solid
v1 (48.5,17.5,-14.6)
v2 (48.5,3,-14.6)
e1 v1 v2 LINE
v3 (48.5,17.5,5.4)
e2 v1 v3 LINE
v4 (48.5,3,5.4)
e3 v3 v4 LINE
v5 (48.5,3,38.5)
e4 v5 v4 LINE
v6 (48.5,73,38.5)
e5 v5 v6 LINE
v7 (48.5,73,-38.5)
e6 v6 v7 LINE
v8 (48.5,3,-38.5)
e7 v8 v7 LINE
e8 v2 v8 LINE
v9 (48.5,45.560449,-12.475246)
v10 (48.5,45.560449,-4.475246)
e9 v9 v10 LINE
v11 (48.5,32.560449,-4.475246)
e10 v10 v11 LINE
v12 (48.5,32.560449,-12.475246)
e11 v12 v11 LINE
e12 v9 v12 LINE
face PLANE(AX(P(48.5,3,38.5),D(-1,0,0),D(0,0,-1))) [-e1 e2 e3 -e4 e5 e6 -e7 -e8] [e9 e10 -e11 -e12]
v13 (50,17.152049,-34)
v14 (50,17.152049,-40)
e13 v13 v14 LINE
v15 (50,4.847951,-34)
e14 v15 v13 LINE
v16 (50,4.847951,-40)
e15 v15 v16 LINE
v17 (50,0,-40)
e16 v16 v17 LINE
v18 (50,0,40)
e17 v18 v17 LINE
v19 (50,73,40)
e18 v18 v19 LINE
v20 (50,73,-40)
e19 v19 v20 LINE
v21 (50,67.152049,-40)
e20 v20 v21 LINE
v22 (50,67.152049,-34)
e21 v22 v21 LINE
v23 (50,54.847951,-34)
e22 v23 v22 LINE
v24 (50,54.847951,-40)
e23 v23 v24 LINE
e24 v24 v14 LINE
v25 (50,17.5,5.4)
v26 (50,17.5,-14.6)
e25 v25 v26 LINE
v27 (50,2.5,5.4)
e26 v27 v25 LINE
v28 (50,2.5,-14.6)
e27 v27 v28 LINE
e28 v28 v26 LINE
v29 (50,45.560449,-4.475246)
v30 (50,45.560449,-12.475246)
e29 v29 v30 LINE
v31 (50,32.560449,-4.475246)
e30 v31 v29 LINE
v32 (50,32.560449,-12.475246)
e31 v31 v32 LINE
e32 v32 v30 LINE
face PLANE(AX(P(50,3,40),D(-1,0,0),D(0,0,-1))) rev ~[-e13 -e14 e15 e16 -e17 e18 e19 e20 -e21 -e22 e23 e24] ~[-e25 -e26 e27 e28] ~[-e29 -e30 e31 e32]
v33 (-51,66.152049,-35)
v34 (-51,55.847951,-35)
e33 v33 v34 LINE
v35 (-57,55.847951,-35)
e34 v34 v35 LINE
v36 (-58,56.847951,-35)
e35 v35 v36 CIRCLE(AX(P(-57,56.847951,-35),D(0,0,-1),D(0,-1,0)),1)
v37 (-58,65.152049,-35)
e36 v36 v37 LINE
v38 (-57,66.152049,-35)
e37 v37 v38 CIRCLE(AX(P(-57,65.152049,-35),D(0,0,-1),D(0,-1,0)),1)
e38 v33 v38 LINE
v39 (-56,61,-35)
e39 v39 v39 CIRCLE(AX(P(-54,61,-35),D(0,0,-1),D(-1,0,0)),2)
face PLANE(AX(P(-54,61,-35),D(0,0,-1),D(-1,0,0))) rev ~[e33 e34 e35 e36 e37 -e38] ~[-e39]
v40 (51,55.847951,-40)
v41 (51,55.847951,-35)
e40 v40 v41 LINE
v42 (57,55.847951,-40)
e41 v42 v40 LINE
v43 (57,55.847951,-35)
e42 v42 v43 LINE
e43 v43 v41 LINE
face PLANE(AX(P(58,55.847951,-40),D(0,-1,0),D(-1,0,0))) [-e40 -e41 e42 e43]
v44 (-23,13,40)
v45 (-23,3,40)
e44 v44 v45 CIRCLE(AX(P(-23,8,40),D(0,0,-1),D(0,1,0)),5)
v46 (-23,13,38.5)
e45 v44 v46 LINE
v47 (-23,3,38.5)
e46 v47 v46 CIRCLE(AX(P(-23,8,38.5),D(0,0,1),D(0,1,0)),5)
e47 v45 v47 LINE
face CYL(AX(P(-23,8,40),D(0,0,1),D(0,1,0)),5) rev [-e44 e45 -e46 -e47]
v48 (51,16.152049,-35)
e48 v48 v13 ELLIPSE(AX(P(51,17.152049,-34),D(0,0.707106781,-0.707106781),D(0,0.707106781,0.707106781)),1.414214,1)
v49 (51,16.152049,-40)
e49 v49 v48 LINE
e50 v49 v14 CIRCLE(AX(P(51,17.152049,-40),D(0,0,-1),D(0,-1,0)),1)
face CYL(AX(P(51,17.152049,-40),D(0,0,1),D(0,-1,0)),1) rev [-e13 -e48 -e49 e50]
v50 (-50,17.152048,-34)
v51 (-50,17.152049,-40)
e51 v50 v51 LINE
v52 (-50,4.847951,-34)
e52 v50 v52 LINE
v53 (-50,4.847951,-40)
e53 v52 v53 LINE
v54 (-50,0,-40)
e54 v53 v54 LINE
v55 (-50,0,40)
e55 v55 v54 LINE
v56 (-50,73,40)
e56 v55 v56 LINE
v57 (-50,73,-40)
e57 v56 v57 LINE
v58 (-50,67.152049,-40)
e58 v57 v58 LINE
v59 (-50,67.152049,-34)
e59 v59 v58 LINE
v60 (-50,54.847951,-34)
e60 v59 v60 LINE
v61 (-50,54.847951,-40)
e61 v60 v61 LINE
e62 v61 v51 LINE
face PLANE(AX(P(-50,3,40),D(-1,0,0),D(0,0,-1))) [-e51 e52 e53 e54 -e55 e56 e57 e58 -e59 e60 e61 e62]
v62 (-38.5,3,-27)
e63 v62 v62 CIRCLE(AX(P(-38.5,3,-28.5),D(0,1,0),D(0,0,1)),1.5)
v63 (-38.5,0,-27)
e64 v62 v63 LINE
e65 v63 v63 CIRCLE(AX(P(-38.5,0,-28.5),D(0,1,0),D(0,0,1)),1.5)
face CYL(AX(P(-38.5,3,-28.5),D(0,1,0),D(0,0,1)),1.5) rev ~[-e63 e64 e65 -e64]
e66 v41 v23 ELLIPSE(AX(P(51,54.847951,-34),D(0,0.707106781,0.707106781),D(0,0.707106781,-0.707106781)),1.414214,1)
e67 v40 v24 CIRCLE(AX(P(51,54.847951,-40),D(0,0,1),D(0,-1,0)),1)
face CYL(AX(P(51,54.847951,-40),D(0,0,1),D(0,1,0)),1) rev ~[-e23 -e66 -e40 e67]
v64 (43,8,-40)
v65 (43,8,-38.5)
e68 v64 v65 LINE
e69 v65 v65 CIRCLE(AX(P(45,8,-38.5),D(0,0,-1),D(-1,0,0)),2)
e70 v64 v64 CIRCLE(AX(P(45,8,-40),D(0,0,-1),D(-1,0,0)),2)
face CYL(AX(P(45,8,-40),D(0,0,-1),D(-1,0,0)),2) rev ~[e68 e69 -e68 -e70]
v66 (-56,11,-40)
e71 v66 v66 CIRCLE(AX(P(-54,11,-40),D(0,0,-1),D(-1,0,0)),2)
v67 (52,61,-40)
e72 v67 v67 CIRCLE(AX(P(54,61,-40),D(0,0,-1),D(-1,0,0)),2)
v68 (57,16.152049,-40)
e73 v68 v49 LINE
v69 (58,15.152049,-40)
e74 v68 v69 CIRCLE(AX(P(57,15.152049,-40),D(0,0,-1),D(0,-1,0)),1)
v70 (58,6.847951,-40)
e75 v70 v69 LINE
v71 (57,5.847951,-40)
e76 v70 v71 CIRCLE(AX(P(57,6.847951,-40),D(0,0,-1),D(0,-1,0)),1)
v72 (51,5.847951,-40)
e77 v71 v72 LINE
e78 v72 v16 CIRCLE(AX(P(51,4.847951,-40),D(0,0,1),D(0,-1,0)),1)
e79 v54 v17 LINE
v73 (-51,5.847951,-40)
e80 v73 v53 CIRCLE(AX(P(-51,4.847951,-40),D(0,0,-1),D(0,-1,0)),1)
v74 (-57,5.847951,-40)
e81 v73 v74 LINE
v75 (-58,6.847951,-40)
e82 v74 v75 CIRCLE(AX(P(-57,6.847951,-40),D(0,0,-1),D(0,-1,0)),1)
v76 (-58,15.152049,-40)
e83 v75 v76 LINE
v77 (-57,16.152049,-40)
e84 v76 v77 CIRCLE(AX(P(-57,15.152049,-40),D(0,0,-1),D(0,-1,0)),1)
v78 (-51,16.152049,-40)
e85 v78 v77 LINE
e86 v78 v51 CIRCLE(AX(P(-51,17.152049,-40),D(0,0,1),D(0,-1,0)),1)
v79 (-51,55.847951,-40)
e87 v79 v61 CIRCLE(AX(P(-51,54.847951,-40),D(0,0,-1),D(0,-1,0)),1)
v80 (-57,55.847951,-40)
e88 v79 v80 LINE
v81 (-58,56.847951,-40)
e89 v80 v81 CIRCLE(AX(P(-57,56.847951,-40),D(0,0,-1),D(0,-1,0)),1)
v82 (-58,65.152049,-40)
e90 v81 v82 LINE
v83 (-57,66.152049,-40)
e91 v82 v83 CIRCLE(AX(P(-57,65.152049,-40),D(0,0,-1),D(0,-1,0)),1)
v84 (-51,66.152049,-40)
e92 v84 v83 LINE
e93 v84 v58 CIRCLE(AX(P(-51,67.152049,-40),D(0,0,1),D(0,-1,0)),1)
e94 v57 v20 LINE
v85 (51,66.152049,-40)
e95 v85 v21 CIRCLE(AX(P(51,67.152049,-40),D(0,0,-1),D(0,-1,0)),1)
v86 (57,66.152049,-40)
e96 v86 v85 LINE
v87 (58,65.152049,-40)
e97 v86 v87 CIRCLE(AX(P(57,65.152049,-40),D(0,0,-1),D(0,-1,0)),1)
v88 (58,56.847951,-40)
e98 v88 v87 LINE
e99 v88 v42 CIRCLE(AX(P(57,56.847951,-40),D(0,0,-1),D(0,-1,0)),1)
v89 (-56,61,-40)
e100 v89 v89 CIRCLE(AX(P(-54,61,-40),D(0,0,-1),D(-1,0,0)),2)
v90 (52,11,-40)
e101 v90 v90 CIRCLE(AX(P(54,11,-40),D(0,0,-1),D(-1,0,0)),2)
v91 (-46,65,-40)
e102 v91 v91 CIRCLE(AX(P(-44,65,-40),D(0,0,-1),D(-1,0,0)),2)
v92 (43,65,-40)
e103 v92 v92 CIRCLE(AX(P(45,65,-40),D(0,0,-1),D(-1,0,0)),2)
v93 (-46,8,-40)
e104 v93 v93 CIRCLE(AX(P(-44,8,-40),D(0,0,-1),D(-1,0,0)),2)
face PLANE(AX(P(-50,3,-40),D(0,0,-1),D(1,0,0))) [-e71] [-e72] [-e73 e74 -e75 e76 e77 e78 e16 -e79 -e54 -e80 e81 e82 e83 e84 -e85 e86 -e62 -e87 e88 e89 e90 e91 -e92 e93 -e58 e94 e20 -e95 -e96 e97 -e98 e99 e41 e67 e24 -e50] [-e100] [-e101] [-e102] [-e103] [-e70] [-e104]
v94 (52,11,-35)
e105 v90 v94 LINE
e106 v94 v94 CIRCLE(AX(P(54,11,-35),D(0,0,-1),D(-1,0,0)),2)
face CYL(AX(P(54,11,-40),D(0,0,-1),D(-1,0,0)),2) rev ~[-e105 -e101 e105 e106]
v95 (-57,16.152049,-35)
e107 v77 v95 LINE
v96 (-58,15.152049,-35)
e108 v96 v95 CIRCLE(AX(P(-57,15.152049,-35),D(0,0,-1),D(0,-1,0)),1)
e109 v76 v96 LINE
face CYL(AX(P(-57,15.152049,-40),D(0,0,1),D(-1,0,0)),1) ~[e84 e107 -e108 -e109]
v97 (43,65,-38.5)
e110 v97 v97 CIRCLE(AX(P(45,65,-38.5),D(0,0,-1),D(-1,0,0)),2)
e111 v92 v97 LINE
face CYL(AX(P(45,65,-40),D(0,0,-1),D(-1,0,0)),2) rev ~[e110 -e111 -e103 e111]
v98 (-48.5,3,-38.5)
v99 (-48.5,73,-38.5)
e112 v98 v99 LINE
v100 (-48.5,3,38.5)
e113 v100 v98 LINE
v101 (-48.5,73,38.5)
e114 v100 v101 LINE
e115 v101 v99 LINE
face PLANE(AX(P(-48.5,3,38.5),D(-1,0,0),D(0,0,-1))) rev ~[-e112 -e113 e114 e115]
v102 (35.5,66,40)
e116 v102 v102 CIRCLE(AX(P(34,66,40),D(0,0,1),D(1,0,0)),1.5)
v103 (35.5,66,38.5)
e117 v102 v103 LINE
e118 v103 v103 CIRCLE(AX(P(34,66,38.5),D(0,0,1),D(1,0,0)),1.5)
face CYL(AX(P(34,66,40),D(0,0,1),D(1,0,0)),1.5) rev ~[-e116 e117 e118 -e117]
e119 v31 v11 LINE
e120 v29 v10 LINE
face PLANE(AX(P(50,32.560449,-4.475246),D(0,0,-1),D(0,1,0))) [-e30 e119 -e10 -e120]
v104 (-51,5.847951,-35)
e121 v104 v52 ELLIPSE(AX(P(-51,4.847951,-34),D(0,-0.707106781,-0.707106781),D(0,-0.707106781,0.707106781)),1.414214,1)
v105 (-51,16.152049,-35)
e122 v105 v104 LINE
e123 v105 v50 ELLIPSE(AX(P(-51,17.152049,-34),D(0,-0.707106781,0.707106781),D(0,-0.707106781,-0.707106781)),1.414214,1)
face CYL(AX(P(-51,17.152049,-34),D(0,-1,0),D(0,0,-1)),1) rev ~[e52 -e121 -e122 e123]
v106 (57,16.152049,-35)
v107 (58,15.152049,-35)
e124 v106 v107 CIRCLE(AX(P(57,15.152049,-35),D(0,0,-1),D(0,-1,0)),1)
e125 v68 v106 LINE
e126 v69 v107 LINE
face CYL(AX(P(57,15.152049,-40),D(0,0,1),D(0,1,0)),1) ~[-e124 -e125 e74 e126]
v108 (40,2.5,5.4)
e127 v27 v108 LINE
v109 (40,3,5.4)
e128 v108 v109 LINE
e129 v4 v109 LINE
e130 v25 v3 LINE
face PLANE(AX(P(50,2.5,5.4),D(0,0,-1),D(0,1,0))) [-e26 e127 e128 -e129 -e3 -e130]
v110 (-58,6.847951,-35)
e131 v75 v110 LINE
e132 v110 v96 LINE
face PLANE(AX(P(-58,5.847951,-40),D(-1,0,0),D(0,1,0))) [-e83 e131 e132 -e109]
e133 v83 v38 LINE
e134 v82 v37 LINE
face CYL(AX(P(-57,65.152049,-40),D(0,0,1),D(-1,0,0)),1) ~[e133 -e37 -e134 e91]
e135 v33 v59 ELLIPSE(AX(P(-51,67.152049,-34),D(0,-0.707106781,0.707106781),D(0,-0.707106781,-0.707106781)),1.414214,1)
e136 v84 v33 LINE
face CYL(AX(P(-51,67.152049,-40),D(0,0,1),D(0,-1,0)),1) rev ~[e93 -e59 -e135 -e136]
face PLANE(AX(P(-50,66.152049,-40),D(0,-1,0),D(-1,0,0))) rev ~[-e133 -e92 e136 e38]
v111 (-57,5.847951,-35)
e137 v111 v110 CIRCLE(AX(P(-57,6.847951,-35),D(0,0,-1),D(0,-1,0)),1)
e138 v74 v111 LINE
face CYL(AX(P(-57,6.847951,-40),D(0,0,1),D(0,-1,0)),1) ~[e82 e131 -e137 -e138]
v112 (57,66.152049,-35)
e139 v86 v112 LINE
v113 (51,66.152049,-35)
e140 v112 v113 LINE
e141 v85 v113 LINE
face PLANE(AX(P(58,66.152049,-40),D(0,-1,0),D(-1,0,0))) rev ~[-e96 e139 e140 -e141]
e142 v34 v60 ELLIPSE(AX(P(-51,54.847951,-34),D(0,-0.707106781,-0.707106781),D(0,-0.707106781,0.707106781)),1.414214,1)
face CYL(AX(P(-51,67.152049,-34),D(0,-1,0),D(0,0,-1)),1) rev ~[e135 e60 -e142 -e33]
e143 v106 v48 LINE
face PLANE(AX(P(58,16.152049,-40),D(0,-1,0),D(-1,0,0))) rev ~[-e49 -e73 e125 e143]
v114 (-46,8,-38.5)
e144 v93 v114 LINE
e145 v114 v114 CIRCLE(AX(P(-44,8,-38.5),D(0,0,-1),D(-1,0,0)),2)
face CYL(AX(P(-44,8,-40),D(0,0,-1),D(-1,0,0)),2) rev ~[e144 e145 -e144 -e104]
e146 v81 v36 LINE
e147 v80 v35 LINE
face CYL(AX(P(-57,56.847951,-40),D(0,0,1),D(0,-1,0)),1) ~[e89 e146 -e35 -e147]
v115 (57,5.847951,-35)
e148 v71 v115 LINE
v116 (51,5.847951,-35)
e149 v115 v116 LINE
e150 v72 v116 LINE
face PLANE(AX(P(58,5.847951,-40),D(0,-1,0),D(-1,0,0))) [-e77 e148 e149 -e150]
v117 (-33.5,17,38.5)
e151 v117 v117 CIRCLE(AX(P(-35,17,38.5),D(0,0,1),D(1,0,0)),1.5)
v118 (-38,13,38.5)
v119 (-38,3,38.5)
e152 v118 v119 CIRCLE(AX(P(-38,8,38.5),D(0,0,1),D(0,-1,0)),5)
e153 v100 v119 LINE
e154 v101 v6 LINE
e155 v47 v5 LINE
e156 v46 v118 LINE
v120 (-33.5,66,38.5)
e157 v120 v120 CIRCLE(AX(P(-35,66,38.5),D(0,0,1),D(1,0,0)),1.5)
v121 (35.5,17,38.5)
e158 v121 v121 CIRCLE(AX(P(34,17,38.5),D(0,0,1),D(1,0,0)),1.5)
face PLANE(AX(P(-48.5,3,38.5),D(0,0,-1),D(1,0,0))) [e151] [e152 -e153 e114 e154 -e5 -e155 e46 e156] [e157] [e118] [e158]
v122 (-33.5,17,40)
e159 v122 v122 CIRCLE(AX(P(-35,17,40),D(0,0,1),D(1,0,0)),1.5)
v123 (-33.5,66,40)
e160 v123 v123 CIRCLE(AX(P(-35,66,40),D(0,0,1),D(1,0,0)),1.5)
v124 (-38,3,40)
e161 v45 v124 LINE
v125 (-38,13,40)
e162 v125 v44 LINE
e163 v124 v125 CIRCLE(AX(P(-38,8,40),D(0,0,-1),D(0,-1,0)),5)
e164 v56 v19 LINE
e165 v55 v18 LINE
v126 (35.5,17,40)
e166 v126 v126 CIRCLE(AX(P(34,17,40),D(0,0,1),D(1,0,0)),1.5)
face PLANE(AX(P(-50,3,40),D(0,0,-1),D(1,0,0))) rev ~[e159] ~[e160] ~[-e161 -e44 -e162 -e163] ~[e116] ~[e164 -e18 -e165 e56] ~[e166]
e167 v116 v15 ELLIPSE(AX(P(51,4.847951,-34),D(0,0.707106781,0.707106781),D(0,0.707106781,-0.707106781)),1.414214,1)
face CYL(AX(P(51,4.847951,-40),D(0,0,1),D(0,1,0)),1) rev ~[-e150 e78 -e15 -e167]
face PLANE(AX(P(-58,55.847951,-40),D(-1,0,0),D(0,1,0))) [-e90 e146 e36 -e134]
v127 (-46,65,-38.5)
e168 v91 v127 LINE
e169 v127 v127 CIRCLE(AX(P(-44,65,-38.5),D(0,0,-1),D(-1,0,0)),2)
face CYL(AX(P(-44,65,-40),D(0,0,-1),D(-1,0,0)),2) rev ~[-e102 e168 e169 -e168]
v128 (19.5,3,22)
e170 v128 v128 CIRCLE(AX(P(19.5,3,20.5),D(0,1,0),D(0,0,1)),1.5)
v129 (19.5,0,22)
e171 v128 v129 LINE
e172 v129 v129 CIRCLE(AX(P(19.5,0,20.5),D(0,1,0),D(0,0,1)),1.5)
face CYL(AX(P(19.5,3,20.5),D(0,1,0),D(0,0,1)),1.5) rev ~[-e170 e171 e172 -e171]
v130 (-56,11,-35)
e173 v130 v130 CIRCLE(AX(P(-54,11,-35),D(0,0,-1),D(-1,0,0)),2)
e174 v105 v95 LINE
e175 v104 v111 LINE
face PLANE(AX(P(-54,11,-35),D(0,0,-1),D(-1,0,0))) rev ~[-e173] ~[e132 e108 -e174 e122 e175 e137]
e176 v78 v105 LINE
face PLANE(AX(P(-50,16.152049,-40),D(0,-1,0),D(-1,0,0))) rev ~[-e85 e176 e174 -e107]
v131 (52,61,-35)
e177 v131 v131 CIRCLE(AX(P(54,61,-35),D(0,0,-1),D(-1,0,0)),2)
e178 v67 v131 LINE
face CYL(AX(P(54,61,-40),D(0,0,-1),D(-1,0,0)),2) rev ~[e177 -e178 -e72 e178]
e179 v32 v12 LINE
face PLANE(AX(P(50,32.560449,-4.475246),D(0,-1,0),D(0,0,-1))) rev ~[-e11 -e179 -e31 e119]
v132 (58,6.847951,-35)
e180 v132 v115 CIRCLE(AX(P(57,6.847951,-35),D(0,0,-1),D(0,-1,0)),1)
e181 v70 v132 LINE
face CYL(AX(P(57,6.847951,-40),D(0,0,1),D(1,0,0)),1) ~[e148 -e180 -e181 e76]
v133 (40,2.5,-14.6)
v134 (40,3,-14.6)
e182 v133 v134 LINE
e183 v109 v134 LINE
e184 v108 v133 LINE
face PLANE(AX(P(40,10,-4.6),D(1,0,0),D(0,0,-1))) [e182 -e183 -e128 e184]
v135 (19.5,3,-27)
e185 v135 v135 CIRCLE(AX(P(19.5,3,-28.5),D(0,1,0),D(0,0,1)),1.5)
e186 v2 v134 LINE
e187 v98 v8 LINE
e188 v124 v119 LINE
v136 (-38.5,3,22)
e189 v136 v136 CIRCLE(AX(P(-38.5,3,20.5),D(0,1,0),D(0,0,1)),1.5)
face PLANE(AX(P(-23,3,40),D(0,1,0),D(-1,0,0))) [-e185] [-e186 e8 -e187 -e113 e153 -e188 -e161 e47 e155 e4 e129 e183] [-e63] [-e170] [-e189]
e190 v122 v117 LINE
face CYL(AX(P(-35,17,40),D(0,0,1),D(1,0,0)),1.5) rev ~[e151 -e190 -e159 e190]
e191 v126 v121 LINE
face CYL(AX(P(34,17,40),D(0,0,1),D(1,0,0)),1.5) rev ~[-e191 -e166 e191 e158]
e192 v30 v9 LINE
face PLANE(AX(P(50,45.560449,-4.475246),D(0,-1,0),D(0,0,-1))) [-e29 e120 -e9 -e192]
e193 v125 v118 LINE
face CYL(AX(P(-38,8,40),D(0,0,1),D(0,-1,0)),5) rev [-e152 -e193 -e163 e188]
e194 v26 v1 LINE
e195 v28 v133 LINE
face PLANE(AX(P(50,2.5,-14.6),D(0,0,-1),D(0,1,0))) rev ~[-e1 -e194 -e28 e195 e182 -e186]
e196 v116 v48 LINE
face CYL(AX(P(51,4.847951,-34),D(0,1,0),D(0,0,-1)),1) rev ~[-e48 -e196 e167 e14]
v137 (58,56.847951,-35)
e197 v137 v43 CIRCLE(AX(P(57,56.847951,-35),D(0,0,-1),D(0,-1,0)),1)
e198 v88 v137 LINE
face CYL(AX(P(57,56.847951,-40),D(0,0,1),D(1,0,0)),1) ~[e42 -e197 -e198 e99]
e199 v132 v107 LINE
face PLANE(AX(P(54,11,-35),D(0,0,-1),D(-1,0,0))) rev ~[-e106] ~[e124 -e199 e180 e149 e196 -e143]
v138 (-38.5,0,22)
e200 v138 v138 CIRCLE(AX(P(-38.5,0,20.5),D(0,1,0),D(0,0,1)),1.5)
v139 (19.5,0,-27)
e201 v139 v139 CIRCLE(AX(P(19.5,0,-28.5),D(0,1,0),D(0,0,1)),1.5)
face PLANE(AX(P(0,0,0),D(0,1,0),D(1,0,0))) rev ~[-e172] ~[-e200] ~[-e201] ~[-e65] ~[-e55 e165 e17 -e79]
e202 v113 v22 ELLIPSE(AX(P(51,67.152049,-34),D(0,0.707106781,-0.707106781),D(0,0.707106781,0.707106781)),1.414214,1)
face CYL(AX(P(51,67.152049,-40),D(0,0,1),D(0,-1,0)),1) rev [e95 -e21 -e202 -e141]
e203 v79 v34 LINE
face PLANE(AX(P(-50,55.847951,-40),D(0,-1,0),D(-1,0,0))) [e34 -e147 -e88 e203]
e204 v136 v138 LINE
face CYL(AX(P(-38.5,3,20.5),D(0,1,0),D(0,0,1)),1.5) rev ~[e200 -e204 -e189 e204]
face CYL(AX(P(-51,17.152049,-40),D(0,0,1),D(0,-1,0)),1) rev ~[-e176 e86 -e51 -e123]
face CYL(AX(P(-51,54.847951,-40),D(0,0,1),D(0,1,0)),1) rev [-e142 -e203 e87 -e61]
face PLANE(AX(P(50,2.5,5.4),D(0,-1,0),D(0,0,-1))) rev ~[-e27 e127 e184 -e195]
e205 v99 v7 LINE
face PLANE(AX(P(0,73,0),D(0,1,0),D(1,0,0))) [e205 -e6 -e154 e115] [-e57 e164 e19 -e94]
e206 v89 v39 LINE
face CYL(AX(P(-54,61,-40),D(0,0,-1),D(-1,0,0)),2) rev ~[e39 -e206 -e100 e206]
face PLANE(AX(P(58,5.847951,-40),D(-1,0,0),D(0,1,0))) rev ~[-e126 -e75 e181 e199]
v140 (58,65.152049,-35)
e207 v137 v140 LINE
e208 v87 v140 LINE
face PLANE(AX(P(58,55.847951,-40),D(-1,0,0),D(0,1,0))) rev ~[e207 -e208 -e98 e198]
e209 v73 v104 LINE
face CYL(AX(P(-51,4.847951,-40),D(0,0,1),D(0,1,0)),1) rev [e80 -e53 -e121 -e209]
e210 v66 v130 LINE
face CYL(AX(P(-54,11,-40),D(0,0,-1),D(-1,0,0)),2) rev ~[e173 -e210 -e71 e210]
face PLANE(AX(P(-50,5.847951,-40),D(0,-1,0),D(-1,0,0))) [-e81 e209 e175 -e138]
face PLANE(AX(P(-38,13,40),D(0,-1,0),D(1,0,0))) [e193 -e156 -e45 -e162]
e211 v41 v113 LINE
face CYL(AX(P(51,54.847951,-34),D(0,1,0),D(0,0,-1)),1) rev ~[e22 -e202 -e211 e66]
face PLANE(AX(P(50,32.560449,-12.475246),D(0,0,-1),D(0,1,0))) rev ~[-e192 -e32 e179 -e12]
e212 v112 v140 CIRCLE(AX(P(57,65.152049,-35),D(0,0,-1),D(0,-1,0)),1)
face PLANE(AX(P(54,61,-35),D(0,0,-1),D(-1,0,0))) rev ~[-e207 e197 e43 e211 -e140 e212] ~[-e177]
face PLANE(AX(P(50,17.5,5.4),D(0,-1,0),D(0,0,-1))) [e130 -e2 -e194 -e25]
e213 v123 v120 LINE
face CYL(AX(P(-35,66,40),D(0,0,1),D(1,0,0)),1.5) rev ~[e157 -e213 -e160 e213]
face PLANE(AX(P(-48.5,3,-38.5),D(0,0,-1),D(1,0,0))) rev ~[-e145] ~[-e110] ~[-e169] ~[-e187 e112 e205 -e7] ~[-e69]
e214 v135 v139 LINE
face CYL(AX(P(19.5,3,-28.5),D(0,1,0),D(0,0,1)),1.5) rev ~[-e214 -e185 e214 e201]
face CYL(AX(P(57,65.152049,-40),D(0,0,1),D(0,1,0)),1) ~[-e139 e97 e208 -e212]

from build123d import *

# Parameters (mm, degrees)
SKETCH1_W               = 100
SKETCH1_H               = 80
BOSS_EXTRUDE1_DEPTH     = 3
SKETCH2_W               = 100
SKETCH2_H               = 80
SKETCH2_W_2             = 97
SKETCH2_H_2             = 77
BOSS_EXTRUDE2_DEPTH     = 70
CUT_EXTRUDE1_DEPTH      = 3
SKETCH5_W               = 8
SKETCH5_H               = 10.304098564
SKETCH5_R               = 2
BOSS_EXTRUDE4_DEPTH     = 5
FILLET8_R               = 1
FILLET9_R               = 1
FILLET10_R              = 1
FILLET11_R              = 1
FILLET12_R              = 1
FILLET13_R              = 1
FILLET14_R              = 1
FILLET15_R              = 1
FILLET16_R              = 1
FILLET17_R              = 1
SKETCH3_R               = 1.5
CUT_EXTRUDE2_DEPTH      = 10
SKETCH7_R               = 1.5
CUT_EXTRUDE4_DEPTH      = 10
SKETCH8_R               = 2
CUT_EXTRUDE5_DEPTH      = 10
SKETCH9_W               = 20
SKETCH9_H               = 15
SKETCH9_W_2             = 8
SKETCH9_H_2             = 13
CUT_EXTRUDE7_DEPTH      = 10
LPATTERN1_COUNT         = 2
LPATTERN1_PITCH         = 50
FILLET8_OF_LPATTERN1_R  = 1
FILLET9_OF_LPATTERN1_R  = 1
FILLET10_OF_LPATTERN1_R = 1
FILLET11_OF_LPATTERN1_R = 1
FILLET12_OF_LPATTERN1_R = 1
FILLET13_OF_LPATTERN1_R = 1
FILLET14_OF_LPATTERN1_R = 1
FILLET15_OF_LPATTERN1_R = 1
FILLET16_OF_LPATTERN1_R = 1
FILLET17_OF_LPATTERN1_R = 1


with BuildPart() as part:
    # Sketch1 → Boss-Extrude1 (new body)
    with BuildSketch(Plane(origin=(0, 0, 0), x_dir=(1, 0, 0), z_dir=(0, 1, 0))):
        Rectangle(SKETCH1_W, SKETCH1_H)
    extrude(amount=BOSS_EXTRUDE1_DEPTH)

    # Sketch2 → Boss-Extrude2 (add)
    with BuildSketch(Plane(origin=(0, 3, 0), x_dir=(1, 0, 0), z_dir=(0, 1, 0))):
        Rectangle(SKETCH2_W, SKETCH2_H)
        Rectangle(SKETCH2_W_2, SKETCH2_H_2, mode=Mode.SUBTRACT)
    extrude(amount=BOSS_EXTRUDE2_DEPTH)

    # Sketch4 → Cut-Extrude1 (cut)
    with BuildSketch(Plane.XY.offset(40)):
        with BuildLine():
            Line((-38, 13), (-23, 13))
            ThreePointArc((-23, 13), (-18, 8), (-23, 3))
            Line((-23, 3), (-38, 3))
            ThreePointArc((-38, 3), (-43, 8), (-38, 13))
        make_face()
    extrude(amount=-CUT_EXTRUDE1_DEPTH, mode=Mode.SUBTRACT)

    # Sketch5 → Boss-Extrude4 (add)
    # profile 1 of 2: a face of its own
    with BuildSketch(Plane(origin=(0, 0, -40), x_dir=(-1, 0, 0), z_dir=(0, 0, -1))):
        with Locations((54, 11)):
            Rectangle(SKETCH5_W, SKETCH5_H)
        with Locations((54, 11)):
            Circle(SKETCH5_R, mode=Mode.SUBTRACT)
    # profile 2 of 2: a face of its own
    with BuildSketch(Plane(origin=(0, 0, -40), x_dir=(-1, 0, 0), z_dir=(0, 0, -1))):
        with Locations((-54, 11)):
            Rectangle(SKETCH5_W, SKETCH5_H)
        with Locations((-54, 11)):
            Circle(SKETCH5_R, mode=Mode.SUBTRACT)
    boss_extrude4 = extrude(amount=-BOSS_EXTRUDE4_DEPTH)

    # Fillet8
    fillet8_edges = [part.edges().sort_by_distance(p)[0] for p in [
        (58, 16.152049282, -37.5),
    ]]
    fillet(fillet8_edges, radius=FILLET8_R)

    # Fillet9
    fillet9_edges = [part.edges().sort_by_distance(p)[0] for p in [
        (58, 5.847950718, -37.5),
    ]]
    fillet(fillet9_edges, radius=FILLET9_R)

    # Fillet10
    fillet10_edges = [part.edges().sort_by_distance(p)[0] for p in [
        (50, 5.847950718, -37.5),
    ]]
    fillet(fillet10_edges, radius=FILLET10_R)

    # Fillet11
    fillet11_edges = [part.edges().sort_by_distance(p)[0] for p in [
        (50, 16.152049282, -37.5),
    ]]
    fillet(fillet11_edges, radius=FILLET11_R)

    # Fillet12
    fillet12_edges = [part.edges().sort_by_distance(p)[0] for p in [
        (50, 11, -35),
    ]]
    fillet(fillet12_edges, radius=FILLET12_R)

    # Fillet13
    fillet13_edges = [part.edges().sort_by_distance(p)[0] for p in [
        (-58, 5.847950718, -37.5),
    ]]
    fillet(fillet13_edges, radius=FILLET13_R)

    # Fillet14
    fillet14_edges = [part.edges().sort_by_distance(p)[0] for p in [
        (-58, 16.152049282, -37.5),
    ]]
    fillet(fillet14_edges, radius=FILLET14_R)

    # Fillet15
    fillet15_edges = [part.edges().sort_by_distance(p)[0] for p in [
        (-50, 5.847950718, -37.5),
    ]]
    fillet(fillet15_edges, radius=FILLET15_R)

    # Fillet16
    fillet16_edges = [part.edges().sort_by_distance(p)[0] for p in [
        (-50, 16.152049282, -37.5),
    ]]
    fillet(fillet16_edges, radius=FILLET16_R)

    # Fillet17
    fillet17_edges = [part.edges().sort_by_distance(p)[0] for p in [
        (-50, 11, -35),
    ]]
    fillet(fillet17_edges, radius=FILLET17_R)

    # Sketch3 → Cut-Extrude2 (cut)
    with BuildSketch(Plane(origin=(0, 3, 0), x_dir=(1, 0, 0), z_dir=(0, 1, 0))):
        with Locations(Location((-38.5, 28.5, 0), (0, 0, 270))):
            Circle(SKETCH3_R)
        with Locations(Location((-38.5, -20.5, 0), (0, 0, 270))):
            Circle(SKETCH3_R)
        with Locations(Location((19.5, 28.5, 0), (0, 0, 270))):
            Circle(SKETCH3_R)
        with Locations(Location((19.5, -20.5, 0), (0, 0, 270))):
            Circle(SKETCH3_R)
    extrude(amount=-CUT_EXTRUDE2_DEPTH, mode=Mode.SUBTRACT)

    # Sketch7 → Cut-Extrude4 (cut)
    with BuildSketch(Plane.XY.offset(40)):
        with Locations((-35, 66)):
            Circle(SKETCH7_R)
        with Locations((34, 66)):
            Circle(SKETCH7_R)
        with Locations((-35, 17)):
            Circle(SKETCH7_R)
        with Locations((34, 17)):
            Circle(SKETCH7_R)
    extrude(amount=-CUT_EXTRUDE4_DEPTH, mode=Mode.SUBTRACT)

    # Sketch8 → Cut-Extrude5 (cut)
    with BuildSketch(Plane(origin=(0, 0, -40), x_dir=(-1, 0, 0), z_dir=(0, 0, -1))):
        with Locations((-45, 65)):
            Circle(SKETCH8_R)
        with Locations((44, 65)):
            Circle(SKETCH8_R)
        with Locations((-45, 8)):
            Circle(SKETCH8_R)
        with Locations((44, 8)):
            Circle(SKETCH8_R)
    extrude(amount=-CUT_EXTRUDE5_DEPTH, mode=Mode.SUBTRACT)

    # Sketch9 → Cut-Extrude7 (cut)
    with BuildSketch(Plane(origin=(50, 0, 0), x_dir=(0, 0, -1), z_dir=(1, 0, 0))):
        with Locations((4.6, 10)):
            Rectangle(SKETCH9_W, SKETCH9_H)
        with Locations((8.475245753, 39.06044871)):
            Rectangle(SKETCH9_W_2, SKETCH9_H_2)
    extrude(amount=-CUT_EXTRUDE7_DEPTH, mode=Mode.SUBTRACT)

    # LPattern1: Boss-Extrude4 ×2
    with Locations(*[(0, i * LPATTERN1_PITCH, 0) for i in range(1, LPATTERN1_COUNT)]):
        add(boss_extrude4)

    # Fillet8 of LPattern1
    fillet8_of_lpattern1_edges = [part.edges().sort_by_distance(p)[0] for p in [
        (58, 66.152049282, -37.5),
    ]]
    fillet(fillet8_of_lpattern1_edges, radius=FILLET8_OF_LPATTERN1_R)

    # Fillet9 of LPattern1
    fillet9_of_lpattern1_edges = [part.edges().sort_by_distance(p)[0] for p in [
        (58, 55.847950718, -37.5),
    ]]
    fillet(fillet9_of_lpattern1_edges, radius=FILLET9_OF_LPATTERN1_R)

    # Fillet10 of LPattern1
    fillet10_of_lpattern1_edges = [part.edges().sort_by_distance(p)[0] for p in [
        (50, 55.847950718, -37.5),
    ]]
    fillet(fillet10_of_lpattern1_edges, radius=FILLET10_OF_LPATTERN1_R)

    # Fillet11 of LPattern1
    fillet11_of_lpattern1_edges = [part.edges().sort_by_distance(p)[0] for p in [
        (50, 66.152049282, -37.5),
    ]]
    fillet(fillet11_of_lpattern1_edges, radius=FILLET11_OF_LPATTERN1_R)

    # Fillet12 of LPattern1
    fillet12_of_lpattern1_edges = [part.edges().sort_by_distance(p)[0] for p in [
        (50, 61, -35),
    ]]
    fillet(fillet12_of_lpattern1_edges, radius=FILLET12_OF_LPATTERN1_R)

    # Fillet13 of LPattern1
    fillet13_of_lpattern1_edges = [part.edges().sort_by_distance(p)[0] for p in [
        (-58, 55.847950718, -37.5),
    ]]
    fillet(fillet13_of_lpattern1_edges, radius=FILLET13_OF_LPATTERN1_R)

    # Fillet14 of LPattern1
    fillet14_of_lpattern1_edges = [part.edges().sort_by_distance(p)[0] for p in [
        (-58, 66.152049282, -37.5),
    ]]
    fillet(fillet14_of_lpattern1_edges, radius=FILLET14_OF_LPATTERN1_R)

    # Fillet15 of LPattern1
    fillet15_of_lpattern1_edges = [part.edges().sort_by_distance(p)[0] for p in [
        (-50, 55.847950718, -37.5),
    ]]
    fillet(fillet15_of_lpattern1_edges, radius=FILLET15_OF_LPATTERN1_R)

    # Fillet16 of LPattern1
    fillet16_of_lpattern1_edges = [part.edges().sort_by_distance(p)[0] for p in [
        (-50, 66.152049282, -37.5),
    ]]
    fillet(fillet16_of_lpattern1_edges, radius=FILLET16_OF_LPATTERN1_R)

    # Fillet17 of LPattern1
    fillet17_of_lpattern1_edges = [part.edges().sort_by_distance(p)[0] for p in [
        (-50, 61, -35),
    ]]
    fillet(fillet17_of_lpattern1_edges, radius=FILLET17_OF_LPATTERN1_R)


solid = part.part
